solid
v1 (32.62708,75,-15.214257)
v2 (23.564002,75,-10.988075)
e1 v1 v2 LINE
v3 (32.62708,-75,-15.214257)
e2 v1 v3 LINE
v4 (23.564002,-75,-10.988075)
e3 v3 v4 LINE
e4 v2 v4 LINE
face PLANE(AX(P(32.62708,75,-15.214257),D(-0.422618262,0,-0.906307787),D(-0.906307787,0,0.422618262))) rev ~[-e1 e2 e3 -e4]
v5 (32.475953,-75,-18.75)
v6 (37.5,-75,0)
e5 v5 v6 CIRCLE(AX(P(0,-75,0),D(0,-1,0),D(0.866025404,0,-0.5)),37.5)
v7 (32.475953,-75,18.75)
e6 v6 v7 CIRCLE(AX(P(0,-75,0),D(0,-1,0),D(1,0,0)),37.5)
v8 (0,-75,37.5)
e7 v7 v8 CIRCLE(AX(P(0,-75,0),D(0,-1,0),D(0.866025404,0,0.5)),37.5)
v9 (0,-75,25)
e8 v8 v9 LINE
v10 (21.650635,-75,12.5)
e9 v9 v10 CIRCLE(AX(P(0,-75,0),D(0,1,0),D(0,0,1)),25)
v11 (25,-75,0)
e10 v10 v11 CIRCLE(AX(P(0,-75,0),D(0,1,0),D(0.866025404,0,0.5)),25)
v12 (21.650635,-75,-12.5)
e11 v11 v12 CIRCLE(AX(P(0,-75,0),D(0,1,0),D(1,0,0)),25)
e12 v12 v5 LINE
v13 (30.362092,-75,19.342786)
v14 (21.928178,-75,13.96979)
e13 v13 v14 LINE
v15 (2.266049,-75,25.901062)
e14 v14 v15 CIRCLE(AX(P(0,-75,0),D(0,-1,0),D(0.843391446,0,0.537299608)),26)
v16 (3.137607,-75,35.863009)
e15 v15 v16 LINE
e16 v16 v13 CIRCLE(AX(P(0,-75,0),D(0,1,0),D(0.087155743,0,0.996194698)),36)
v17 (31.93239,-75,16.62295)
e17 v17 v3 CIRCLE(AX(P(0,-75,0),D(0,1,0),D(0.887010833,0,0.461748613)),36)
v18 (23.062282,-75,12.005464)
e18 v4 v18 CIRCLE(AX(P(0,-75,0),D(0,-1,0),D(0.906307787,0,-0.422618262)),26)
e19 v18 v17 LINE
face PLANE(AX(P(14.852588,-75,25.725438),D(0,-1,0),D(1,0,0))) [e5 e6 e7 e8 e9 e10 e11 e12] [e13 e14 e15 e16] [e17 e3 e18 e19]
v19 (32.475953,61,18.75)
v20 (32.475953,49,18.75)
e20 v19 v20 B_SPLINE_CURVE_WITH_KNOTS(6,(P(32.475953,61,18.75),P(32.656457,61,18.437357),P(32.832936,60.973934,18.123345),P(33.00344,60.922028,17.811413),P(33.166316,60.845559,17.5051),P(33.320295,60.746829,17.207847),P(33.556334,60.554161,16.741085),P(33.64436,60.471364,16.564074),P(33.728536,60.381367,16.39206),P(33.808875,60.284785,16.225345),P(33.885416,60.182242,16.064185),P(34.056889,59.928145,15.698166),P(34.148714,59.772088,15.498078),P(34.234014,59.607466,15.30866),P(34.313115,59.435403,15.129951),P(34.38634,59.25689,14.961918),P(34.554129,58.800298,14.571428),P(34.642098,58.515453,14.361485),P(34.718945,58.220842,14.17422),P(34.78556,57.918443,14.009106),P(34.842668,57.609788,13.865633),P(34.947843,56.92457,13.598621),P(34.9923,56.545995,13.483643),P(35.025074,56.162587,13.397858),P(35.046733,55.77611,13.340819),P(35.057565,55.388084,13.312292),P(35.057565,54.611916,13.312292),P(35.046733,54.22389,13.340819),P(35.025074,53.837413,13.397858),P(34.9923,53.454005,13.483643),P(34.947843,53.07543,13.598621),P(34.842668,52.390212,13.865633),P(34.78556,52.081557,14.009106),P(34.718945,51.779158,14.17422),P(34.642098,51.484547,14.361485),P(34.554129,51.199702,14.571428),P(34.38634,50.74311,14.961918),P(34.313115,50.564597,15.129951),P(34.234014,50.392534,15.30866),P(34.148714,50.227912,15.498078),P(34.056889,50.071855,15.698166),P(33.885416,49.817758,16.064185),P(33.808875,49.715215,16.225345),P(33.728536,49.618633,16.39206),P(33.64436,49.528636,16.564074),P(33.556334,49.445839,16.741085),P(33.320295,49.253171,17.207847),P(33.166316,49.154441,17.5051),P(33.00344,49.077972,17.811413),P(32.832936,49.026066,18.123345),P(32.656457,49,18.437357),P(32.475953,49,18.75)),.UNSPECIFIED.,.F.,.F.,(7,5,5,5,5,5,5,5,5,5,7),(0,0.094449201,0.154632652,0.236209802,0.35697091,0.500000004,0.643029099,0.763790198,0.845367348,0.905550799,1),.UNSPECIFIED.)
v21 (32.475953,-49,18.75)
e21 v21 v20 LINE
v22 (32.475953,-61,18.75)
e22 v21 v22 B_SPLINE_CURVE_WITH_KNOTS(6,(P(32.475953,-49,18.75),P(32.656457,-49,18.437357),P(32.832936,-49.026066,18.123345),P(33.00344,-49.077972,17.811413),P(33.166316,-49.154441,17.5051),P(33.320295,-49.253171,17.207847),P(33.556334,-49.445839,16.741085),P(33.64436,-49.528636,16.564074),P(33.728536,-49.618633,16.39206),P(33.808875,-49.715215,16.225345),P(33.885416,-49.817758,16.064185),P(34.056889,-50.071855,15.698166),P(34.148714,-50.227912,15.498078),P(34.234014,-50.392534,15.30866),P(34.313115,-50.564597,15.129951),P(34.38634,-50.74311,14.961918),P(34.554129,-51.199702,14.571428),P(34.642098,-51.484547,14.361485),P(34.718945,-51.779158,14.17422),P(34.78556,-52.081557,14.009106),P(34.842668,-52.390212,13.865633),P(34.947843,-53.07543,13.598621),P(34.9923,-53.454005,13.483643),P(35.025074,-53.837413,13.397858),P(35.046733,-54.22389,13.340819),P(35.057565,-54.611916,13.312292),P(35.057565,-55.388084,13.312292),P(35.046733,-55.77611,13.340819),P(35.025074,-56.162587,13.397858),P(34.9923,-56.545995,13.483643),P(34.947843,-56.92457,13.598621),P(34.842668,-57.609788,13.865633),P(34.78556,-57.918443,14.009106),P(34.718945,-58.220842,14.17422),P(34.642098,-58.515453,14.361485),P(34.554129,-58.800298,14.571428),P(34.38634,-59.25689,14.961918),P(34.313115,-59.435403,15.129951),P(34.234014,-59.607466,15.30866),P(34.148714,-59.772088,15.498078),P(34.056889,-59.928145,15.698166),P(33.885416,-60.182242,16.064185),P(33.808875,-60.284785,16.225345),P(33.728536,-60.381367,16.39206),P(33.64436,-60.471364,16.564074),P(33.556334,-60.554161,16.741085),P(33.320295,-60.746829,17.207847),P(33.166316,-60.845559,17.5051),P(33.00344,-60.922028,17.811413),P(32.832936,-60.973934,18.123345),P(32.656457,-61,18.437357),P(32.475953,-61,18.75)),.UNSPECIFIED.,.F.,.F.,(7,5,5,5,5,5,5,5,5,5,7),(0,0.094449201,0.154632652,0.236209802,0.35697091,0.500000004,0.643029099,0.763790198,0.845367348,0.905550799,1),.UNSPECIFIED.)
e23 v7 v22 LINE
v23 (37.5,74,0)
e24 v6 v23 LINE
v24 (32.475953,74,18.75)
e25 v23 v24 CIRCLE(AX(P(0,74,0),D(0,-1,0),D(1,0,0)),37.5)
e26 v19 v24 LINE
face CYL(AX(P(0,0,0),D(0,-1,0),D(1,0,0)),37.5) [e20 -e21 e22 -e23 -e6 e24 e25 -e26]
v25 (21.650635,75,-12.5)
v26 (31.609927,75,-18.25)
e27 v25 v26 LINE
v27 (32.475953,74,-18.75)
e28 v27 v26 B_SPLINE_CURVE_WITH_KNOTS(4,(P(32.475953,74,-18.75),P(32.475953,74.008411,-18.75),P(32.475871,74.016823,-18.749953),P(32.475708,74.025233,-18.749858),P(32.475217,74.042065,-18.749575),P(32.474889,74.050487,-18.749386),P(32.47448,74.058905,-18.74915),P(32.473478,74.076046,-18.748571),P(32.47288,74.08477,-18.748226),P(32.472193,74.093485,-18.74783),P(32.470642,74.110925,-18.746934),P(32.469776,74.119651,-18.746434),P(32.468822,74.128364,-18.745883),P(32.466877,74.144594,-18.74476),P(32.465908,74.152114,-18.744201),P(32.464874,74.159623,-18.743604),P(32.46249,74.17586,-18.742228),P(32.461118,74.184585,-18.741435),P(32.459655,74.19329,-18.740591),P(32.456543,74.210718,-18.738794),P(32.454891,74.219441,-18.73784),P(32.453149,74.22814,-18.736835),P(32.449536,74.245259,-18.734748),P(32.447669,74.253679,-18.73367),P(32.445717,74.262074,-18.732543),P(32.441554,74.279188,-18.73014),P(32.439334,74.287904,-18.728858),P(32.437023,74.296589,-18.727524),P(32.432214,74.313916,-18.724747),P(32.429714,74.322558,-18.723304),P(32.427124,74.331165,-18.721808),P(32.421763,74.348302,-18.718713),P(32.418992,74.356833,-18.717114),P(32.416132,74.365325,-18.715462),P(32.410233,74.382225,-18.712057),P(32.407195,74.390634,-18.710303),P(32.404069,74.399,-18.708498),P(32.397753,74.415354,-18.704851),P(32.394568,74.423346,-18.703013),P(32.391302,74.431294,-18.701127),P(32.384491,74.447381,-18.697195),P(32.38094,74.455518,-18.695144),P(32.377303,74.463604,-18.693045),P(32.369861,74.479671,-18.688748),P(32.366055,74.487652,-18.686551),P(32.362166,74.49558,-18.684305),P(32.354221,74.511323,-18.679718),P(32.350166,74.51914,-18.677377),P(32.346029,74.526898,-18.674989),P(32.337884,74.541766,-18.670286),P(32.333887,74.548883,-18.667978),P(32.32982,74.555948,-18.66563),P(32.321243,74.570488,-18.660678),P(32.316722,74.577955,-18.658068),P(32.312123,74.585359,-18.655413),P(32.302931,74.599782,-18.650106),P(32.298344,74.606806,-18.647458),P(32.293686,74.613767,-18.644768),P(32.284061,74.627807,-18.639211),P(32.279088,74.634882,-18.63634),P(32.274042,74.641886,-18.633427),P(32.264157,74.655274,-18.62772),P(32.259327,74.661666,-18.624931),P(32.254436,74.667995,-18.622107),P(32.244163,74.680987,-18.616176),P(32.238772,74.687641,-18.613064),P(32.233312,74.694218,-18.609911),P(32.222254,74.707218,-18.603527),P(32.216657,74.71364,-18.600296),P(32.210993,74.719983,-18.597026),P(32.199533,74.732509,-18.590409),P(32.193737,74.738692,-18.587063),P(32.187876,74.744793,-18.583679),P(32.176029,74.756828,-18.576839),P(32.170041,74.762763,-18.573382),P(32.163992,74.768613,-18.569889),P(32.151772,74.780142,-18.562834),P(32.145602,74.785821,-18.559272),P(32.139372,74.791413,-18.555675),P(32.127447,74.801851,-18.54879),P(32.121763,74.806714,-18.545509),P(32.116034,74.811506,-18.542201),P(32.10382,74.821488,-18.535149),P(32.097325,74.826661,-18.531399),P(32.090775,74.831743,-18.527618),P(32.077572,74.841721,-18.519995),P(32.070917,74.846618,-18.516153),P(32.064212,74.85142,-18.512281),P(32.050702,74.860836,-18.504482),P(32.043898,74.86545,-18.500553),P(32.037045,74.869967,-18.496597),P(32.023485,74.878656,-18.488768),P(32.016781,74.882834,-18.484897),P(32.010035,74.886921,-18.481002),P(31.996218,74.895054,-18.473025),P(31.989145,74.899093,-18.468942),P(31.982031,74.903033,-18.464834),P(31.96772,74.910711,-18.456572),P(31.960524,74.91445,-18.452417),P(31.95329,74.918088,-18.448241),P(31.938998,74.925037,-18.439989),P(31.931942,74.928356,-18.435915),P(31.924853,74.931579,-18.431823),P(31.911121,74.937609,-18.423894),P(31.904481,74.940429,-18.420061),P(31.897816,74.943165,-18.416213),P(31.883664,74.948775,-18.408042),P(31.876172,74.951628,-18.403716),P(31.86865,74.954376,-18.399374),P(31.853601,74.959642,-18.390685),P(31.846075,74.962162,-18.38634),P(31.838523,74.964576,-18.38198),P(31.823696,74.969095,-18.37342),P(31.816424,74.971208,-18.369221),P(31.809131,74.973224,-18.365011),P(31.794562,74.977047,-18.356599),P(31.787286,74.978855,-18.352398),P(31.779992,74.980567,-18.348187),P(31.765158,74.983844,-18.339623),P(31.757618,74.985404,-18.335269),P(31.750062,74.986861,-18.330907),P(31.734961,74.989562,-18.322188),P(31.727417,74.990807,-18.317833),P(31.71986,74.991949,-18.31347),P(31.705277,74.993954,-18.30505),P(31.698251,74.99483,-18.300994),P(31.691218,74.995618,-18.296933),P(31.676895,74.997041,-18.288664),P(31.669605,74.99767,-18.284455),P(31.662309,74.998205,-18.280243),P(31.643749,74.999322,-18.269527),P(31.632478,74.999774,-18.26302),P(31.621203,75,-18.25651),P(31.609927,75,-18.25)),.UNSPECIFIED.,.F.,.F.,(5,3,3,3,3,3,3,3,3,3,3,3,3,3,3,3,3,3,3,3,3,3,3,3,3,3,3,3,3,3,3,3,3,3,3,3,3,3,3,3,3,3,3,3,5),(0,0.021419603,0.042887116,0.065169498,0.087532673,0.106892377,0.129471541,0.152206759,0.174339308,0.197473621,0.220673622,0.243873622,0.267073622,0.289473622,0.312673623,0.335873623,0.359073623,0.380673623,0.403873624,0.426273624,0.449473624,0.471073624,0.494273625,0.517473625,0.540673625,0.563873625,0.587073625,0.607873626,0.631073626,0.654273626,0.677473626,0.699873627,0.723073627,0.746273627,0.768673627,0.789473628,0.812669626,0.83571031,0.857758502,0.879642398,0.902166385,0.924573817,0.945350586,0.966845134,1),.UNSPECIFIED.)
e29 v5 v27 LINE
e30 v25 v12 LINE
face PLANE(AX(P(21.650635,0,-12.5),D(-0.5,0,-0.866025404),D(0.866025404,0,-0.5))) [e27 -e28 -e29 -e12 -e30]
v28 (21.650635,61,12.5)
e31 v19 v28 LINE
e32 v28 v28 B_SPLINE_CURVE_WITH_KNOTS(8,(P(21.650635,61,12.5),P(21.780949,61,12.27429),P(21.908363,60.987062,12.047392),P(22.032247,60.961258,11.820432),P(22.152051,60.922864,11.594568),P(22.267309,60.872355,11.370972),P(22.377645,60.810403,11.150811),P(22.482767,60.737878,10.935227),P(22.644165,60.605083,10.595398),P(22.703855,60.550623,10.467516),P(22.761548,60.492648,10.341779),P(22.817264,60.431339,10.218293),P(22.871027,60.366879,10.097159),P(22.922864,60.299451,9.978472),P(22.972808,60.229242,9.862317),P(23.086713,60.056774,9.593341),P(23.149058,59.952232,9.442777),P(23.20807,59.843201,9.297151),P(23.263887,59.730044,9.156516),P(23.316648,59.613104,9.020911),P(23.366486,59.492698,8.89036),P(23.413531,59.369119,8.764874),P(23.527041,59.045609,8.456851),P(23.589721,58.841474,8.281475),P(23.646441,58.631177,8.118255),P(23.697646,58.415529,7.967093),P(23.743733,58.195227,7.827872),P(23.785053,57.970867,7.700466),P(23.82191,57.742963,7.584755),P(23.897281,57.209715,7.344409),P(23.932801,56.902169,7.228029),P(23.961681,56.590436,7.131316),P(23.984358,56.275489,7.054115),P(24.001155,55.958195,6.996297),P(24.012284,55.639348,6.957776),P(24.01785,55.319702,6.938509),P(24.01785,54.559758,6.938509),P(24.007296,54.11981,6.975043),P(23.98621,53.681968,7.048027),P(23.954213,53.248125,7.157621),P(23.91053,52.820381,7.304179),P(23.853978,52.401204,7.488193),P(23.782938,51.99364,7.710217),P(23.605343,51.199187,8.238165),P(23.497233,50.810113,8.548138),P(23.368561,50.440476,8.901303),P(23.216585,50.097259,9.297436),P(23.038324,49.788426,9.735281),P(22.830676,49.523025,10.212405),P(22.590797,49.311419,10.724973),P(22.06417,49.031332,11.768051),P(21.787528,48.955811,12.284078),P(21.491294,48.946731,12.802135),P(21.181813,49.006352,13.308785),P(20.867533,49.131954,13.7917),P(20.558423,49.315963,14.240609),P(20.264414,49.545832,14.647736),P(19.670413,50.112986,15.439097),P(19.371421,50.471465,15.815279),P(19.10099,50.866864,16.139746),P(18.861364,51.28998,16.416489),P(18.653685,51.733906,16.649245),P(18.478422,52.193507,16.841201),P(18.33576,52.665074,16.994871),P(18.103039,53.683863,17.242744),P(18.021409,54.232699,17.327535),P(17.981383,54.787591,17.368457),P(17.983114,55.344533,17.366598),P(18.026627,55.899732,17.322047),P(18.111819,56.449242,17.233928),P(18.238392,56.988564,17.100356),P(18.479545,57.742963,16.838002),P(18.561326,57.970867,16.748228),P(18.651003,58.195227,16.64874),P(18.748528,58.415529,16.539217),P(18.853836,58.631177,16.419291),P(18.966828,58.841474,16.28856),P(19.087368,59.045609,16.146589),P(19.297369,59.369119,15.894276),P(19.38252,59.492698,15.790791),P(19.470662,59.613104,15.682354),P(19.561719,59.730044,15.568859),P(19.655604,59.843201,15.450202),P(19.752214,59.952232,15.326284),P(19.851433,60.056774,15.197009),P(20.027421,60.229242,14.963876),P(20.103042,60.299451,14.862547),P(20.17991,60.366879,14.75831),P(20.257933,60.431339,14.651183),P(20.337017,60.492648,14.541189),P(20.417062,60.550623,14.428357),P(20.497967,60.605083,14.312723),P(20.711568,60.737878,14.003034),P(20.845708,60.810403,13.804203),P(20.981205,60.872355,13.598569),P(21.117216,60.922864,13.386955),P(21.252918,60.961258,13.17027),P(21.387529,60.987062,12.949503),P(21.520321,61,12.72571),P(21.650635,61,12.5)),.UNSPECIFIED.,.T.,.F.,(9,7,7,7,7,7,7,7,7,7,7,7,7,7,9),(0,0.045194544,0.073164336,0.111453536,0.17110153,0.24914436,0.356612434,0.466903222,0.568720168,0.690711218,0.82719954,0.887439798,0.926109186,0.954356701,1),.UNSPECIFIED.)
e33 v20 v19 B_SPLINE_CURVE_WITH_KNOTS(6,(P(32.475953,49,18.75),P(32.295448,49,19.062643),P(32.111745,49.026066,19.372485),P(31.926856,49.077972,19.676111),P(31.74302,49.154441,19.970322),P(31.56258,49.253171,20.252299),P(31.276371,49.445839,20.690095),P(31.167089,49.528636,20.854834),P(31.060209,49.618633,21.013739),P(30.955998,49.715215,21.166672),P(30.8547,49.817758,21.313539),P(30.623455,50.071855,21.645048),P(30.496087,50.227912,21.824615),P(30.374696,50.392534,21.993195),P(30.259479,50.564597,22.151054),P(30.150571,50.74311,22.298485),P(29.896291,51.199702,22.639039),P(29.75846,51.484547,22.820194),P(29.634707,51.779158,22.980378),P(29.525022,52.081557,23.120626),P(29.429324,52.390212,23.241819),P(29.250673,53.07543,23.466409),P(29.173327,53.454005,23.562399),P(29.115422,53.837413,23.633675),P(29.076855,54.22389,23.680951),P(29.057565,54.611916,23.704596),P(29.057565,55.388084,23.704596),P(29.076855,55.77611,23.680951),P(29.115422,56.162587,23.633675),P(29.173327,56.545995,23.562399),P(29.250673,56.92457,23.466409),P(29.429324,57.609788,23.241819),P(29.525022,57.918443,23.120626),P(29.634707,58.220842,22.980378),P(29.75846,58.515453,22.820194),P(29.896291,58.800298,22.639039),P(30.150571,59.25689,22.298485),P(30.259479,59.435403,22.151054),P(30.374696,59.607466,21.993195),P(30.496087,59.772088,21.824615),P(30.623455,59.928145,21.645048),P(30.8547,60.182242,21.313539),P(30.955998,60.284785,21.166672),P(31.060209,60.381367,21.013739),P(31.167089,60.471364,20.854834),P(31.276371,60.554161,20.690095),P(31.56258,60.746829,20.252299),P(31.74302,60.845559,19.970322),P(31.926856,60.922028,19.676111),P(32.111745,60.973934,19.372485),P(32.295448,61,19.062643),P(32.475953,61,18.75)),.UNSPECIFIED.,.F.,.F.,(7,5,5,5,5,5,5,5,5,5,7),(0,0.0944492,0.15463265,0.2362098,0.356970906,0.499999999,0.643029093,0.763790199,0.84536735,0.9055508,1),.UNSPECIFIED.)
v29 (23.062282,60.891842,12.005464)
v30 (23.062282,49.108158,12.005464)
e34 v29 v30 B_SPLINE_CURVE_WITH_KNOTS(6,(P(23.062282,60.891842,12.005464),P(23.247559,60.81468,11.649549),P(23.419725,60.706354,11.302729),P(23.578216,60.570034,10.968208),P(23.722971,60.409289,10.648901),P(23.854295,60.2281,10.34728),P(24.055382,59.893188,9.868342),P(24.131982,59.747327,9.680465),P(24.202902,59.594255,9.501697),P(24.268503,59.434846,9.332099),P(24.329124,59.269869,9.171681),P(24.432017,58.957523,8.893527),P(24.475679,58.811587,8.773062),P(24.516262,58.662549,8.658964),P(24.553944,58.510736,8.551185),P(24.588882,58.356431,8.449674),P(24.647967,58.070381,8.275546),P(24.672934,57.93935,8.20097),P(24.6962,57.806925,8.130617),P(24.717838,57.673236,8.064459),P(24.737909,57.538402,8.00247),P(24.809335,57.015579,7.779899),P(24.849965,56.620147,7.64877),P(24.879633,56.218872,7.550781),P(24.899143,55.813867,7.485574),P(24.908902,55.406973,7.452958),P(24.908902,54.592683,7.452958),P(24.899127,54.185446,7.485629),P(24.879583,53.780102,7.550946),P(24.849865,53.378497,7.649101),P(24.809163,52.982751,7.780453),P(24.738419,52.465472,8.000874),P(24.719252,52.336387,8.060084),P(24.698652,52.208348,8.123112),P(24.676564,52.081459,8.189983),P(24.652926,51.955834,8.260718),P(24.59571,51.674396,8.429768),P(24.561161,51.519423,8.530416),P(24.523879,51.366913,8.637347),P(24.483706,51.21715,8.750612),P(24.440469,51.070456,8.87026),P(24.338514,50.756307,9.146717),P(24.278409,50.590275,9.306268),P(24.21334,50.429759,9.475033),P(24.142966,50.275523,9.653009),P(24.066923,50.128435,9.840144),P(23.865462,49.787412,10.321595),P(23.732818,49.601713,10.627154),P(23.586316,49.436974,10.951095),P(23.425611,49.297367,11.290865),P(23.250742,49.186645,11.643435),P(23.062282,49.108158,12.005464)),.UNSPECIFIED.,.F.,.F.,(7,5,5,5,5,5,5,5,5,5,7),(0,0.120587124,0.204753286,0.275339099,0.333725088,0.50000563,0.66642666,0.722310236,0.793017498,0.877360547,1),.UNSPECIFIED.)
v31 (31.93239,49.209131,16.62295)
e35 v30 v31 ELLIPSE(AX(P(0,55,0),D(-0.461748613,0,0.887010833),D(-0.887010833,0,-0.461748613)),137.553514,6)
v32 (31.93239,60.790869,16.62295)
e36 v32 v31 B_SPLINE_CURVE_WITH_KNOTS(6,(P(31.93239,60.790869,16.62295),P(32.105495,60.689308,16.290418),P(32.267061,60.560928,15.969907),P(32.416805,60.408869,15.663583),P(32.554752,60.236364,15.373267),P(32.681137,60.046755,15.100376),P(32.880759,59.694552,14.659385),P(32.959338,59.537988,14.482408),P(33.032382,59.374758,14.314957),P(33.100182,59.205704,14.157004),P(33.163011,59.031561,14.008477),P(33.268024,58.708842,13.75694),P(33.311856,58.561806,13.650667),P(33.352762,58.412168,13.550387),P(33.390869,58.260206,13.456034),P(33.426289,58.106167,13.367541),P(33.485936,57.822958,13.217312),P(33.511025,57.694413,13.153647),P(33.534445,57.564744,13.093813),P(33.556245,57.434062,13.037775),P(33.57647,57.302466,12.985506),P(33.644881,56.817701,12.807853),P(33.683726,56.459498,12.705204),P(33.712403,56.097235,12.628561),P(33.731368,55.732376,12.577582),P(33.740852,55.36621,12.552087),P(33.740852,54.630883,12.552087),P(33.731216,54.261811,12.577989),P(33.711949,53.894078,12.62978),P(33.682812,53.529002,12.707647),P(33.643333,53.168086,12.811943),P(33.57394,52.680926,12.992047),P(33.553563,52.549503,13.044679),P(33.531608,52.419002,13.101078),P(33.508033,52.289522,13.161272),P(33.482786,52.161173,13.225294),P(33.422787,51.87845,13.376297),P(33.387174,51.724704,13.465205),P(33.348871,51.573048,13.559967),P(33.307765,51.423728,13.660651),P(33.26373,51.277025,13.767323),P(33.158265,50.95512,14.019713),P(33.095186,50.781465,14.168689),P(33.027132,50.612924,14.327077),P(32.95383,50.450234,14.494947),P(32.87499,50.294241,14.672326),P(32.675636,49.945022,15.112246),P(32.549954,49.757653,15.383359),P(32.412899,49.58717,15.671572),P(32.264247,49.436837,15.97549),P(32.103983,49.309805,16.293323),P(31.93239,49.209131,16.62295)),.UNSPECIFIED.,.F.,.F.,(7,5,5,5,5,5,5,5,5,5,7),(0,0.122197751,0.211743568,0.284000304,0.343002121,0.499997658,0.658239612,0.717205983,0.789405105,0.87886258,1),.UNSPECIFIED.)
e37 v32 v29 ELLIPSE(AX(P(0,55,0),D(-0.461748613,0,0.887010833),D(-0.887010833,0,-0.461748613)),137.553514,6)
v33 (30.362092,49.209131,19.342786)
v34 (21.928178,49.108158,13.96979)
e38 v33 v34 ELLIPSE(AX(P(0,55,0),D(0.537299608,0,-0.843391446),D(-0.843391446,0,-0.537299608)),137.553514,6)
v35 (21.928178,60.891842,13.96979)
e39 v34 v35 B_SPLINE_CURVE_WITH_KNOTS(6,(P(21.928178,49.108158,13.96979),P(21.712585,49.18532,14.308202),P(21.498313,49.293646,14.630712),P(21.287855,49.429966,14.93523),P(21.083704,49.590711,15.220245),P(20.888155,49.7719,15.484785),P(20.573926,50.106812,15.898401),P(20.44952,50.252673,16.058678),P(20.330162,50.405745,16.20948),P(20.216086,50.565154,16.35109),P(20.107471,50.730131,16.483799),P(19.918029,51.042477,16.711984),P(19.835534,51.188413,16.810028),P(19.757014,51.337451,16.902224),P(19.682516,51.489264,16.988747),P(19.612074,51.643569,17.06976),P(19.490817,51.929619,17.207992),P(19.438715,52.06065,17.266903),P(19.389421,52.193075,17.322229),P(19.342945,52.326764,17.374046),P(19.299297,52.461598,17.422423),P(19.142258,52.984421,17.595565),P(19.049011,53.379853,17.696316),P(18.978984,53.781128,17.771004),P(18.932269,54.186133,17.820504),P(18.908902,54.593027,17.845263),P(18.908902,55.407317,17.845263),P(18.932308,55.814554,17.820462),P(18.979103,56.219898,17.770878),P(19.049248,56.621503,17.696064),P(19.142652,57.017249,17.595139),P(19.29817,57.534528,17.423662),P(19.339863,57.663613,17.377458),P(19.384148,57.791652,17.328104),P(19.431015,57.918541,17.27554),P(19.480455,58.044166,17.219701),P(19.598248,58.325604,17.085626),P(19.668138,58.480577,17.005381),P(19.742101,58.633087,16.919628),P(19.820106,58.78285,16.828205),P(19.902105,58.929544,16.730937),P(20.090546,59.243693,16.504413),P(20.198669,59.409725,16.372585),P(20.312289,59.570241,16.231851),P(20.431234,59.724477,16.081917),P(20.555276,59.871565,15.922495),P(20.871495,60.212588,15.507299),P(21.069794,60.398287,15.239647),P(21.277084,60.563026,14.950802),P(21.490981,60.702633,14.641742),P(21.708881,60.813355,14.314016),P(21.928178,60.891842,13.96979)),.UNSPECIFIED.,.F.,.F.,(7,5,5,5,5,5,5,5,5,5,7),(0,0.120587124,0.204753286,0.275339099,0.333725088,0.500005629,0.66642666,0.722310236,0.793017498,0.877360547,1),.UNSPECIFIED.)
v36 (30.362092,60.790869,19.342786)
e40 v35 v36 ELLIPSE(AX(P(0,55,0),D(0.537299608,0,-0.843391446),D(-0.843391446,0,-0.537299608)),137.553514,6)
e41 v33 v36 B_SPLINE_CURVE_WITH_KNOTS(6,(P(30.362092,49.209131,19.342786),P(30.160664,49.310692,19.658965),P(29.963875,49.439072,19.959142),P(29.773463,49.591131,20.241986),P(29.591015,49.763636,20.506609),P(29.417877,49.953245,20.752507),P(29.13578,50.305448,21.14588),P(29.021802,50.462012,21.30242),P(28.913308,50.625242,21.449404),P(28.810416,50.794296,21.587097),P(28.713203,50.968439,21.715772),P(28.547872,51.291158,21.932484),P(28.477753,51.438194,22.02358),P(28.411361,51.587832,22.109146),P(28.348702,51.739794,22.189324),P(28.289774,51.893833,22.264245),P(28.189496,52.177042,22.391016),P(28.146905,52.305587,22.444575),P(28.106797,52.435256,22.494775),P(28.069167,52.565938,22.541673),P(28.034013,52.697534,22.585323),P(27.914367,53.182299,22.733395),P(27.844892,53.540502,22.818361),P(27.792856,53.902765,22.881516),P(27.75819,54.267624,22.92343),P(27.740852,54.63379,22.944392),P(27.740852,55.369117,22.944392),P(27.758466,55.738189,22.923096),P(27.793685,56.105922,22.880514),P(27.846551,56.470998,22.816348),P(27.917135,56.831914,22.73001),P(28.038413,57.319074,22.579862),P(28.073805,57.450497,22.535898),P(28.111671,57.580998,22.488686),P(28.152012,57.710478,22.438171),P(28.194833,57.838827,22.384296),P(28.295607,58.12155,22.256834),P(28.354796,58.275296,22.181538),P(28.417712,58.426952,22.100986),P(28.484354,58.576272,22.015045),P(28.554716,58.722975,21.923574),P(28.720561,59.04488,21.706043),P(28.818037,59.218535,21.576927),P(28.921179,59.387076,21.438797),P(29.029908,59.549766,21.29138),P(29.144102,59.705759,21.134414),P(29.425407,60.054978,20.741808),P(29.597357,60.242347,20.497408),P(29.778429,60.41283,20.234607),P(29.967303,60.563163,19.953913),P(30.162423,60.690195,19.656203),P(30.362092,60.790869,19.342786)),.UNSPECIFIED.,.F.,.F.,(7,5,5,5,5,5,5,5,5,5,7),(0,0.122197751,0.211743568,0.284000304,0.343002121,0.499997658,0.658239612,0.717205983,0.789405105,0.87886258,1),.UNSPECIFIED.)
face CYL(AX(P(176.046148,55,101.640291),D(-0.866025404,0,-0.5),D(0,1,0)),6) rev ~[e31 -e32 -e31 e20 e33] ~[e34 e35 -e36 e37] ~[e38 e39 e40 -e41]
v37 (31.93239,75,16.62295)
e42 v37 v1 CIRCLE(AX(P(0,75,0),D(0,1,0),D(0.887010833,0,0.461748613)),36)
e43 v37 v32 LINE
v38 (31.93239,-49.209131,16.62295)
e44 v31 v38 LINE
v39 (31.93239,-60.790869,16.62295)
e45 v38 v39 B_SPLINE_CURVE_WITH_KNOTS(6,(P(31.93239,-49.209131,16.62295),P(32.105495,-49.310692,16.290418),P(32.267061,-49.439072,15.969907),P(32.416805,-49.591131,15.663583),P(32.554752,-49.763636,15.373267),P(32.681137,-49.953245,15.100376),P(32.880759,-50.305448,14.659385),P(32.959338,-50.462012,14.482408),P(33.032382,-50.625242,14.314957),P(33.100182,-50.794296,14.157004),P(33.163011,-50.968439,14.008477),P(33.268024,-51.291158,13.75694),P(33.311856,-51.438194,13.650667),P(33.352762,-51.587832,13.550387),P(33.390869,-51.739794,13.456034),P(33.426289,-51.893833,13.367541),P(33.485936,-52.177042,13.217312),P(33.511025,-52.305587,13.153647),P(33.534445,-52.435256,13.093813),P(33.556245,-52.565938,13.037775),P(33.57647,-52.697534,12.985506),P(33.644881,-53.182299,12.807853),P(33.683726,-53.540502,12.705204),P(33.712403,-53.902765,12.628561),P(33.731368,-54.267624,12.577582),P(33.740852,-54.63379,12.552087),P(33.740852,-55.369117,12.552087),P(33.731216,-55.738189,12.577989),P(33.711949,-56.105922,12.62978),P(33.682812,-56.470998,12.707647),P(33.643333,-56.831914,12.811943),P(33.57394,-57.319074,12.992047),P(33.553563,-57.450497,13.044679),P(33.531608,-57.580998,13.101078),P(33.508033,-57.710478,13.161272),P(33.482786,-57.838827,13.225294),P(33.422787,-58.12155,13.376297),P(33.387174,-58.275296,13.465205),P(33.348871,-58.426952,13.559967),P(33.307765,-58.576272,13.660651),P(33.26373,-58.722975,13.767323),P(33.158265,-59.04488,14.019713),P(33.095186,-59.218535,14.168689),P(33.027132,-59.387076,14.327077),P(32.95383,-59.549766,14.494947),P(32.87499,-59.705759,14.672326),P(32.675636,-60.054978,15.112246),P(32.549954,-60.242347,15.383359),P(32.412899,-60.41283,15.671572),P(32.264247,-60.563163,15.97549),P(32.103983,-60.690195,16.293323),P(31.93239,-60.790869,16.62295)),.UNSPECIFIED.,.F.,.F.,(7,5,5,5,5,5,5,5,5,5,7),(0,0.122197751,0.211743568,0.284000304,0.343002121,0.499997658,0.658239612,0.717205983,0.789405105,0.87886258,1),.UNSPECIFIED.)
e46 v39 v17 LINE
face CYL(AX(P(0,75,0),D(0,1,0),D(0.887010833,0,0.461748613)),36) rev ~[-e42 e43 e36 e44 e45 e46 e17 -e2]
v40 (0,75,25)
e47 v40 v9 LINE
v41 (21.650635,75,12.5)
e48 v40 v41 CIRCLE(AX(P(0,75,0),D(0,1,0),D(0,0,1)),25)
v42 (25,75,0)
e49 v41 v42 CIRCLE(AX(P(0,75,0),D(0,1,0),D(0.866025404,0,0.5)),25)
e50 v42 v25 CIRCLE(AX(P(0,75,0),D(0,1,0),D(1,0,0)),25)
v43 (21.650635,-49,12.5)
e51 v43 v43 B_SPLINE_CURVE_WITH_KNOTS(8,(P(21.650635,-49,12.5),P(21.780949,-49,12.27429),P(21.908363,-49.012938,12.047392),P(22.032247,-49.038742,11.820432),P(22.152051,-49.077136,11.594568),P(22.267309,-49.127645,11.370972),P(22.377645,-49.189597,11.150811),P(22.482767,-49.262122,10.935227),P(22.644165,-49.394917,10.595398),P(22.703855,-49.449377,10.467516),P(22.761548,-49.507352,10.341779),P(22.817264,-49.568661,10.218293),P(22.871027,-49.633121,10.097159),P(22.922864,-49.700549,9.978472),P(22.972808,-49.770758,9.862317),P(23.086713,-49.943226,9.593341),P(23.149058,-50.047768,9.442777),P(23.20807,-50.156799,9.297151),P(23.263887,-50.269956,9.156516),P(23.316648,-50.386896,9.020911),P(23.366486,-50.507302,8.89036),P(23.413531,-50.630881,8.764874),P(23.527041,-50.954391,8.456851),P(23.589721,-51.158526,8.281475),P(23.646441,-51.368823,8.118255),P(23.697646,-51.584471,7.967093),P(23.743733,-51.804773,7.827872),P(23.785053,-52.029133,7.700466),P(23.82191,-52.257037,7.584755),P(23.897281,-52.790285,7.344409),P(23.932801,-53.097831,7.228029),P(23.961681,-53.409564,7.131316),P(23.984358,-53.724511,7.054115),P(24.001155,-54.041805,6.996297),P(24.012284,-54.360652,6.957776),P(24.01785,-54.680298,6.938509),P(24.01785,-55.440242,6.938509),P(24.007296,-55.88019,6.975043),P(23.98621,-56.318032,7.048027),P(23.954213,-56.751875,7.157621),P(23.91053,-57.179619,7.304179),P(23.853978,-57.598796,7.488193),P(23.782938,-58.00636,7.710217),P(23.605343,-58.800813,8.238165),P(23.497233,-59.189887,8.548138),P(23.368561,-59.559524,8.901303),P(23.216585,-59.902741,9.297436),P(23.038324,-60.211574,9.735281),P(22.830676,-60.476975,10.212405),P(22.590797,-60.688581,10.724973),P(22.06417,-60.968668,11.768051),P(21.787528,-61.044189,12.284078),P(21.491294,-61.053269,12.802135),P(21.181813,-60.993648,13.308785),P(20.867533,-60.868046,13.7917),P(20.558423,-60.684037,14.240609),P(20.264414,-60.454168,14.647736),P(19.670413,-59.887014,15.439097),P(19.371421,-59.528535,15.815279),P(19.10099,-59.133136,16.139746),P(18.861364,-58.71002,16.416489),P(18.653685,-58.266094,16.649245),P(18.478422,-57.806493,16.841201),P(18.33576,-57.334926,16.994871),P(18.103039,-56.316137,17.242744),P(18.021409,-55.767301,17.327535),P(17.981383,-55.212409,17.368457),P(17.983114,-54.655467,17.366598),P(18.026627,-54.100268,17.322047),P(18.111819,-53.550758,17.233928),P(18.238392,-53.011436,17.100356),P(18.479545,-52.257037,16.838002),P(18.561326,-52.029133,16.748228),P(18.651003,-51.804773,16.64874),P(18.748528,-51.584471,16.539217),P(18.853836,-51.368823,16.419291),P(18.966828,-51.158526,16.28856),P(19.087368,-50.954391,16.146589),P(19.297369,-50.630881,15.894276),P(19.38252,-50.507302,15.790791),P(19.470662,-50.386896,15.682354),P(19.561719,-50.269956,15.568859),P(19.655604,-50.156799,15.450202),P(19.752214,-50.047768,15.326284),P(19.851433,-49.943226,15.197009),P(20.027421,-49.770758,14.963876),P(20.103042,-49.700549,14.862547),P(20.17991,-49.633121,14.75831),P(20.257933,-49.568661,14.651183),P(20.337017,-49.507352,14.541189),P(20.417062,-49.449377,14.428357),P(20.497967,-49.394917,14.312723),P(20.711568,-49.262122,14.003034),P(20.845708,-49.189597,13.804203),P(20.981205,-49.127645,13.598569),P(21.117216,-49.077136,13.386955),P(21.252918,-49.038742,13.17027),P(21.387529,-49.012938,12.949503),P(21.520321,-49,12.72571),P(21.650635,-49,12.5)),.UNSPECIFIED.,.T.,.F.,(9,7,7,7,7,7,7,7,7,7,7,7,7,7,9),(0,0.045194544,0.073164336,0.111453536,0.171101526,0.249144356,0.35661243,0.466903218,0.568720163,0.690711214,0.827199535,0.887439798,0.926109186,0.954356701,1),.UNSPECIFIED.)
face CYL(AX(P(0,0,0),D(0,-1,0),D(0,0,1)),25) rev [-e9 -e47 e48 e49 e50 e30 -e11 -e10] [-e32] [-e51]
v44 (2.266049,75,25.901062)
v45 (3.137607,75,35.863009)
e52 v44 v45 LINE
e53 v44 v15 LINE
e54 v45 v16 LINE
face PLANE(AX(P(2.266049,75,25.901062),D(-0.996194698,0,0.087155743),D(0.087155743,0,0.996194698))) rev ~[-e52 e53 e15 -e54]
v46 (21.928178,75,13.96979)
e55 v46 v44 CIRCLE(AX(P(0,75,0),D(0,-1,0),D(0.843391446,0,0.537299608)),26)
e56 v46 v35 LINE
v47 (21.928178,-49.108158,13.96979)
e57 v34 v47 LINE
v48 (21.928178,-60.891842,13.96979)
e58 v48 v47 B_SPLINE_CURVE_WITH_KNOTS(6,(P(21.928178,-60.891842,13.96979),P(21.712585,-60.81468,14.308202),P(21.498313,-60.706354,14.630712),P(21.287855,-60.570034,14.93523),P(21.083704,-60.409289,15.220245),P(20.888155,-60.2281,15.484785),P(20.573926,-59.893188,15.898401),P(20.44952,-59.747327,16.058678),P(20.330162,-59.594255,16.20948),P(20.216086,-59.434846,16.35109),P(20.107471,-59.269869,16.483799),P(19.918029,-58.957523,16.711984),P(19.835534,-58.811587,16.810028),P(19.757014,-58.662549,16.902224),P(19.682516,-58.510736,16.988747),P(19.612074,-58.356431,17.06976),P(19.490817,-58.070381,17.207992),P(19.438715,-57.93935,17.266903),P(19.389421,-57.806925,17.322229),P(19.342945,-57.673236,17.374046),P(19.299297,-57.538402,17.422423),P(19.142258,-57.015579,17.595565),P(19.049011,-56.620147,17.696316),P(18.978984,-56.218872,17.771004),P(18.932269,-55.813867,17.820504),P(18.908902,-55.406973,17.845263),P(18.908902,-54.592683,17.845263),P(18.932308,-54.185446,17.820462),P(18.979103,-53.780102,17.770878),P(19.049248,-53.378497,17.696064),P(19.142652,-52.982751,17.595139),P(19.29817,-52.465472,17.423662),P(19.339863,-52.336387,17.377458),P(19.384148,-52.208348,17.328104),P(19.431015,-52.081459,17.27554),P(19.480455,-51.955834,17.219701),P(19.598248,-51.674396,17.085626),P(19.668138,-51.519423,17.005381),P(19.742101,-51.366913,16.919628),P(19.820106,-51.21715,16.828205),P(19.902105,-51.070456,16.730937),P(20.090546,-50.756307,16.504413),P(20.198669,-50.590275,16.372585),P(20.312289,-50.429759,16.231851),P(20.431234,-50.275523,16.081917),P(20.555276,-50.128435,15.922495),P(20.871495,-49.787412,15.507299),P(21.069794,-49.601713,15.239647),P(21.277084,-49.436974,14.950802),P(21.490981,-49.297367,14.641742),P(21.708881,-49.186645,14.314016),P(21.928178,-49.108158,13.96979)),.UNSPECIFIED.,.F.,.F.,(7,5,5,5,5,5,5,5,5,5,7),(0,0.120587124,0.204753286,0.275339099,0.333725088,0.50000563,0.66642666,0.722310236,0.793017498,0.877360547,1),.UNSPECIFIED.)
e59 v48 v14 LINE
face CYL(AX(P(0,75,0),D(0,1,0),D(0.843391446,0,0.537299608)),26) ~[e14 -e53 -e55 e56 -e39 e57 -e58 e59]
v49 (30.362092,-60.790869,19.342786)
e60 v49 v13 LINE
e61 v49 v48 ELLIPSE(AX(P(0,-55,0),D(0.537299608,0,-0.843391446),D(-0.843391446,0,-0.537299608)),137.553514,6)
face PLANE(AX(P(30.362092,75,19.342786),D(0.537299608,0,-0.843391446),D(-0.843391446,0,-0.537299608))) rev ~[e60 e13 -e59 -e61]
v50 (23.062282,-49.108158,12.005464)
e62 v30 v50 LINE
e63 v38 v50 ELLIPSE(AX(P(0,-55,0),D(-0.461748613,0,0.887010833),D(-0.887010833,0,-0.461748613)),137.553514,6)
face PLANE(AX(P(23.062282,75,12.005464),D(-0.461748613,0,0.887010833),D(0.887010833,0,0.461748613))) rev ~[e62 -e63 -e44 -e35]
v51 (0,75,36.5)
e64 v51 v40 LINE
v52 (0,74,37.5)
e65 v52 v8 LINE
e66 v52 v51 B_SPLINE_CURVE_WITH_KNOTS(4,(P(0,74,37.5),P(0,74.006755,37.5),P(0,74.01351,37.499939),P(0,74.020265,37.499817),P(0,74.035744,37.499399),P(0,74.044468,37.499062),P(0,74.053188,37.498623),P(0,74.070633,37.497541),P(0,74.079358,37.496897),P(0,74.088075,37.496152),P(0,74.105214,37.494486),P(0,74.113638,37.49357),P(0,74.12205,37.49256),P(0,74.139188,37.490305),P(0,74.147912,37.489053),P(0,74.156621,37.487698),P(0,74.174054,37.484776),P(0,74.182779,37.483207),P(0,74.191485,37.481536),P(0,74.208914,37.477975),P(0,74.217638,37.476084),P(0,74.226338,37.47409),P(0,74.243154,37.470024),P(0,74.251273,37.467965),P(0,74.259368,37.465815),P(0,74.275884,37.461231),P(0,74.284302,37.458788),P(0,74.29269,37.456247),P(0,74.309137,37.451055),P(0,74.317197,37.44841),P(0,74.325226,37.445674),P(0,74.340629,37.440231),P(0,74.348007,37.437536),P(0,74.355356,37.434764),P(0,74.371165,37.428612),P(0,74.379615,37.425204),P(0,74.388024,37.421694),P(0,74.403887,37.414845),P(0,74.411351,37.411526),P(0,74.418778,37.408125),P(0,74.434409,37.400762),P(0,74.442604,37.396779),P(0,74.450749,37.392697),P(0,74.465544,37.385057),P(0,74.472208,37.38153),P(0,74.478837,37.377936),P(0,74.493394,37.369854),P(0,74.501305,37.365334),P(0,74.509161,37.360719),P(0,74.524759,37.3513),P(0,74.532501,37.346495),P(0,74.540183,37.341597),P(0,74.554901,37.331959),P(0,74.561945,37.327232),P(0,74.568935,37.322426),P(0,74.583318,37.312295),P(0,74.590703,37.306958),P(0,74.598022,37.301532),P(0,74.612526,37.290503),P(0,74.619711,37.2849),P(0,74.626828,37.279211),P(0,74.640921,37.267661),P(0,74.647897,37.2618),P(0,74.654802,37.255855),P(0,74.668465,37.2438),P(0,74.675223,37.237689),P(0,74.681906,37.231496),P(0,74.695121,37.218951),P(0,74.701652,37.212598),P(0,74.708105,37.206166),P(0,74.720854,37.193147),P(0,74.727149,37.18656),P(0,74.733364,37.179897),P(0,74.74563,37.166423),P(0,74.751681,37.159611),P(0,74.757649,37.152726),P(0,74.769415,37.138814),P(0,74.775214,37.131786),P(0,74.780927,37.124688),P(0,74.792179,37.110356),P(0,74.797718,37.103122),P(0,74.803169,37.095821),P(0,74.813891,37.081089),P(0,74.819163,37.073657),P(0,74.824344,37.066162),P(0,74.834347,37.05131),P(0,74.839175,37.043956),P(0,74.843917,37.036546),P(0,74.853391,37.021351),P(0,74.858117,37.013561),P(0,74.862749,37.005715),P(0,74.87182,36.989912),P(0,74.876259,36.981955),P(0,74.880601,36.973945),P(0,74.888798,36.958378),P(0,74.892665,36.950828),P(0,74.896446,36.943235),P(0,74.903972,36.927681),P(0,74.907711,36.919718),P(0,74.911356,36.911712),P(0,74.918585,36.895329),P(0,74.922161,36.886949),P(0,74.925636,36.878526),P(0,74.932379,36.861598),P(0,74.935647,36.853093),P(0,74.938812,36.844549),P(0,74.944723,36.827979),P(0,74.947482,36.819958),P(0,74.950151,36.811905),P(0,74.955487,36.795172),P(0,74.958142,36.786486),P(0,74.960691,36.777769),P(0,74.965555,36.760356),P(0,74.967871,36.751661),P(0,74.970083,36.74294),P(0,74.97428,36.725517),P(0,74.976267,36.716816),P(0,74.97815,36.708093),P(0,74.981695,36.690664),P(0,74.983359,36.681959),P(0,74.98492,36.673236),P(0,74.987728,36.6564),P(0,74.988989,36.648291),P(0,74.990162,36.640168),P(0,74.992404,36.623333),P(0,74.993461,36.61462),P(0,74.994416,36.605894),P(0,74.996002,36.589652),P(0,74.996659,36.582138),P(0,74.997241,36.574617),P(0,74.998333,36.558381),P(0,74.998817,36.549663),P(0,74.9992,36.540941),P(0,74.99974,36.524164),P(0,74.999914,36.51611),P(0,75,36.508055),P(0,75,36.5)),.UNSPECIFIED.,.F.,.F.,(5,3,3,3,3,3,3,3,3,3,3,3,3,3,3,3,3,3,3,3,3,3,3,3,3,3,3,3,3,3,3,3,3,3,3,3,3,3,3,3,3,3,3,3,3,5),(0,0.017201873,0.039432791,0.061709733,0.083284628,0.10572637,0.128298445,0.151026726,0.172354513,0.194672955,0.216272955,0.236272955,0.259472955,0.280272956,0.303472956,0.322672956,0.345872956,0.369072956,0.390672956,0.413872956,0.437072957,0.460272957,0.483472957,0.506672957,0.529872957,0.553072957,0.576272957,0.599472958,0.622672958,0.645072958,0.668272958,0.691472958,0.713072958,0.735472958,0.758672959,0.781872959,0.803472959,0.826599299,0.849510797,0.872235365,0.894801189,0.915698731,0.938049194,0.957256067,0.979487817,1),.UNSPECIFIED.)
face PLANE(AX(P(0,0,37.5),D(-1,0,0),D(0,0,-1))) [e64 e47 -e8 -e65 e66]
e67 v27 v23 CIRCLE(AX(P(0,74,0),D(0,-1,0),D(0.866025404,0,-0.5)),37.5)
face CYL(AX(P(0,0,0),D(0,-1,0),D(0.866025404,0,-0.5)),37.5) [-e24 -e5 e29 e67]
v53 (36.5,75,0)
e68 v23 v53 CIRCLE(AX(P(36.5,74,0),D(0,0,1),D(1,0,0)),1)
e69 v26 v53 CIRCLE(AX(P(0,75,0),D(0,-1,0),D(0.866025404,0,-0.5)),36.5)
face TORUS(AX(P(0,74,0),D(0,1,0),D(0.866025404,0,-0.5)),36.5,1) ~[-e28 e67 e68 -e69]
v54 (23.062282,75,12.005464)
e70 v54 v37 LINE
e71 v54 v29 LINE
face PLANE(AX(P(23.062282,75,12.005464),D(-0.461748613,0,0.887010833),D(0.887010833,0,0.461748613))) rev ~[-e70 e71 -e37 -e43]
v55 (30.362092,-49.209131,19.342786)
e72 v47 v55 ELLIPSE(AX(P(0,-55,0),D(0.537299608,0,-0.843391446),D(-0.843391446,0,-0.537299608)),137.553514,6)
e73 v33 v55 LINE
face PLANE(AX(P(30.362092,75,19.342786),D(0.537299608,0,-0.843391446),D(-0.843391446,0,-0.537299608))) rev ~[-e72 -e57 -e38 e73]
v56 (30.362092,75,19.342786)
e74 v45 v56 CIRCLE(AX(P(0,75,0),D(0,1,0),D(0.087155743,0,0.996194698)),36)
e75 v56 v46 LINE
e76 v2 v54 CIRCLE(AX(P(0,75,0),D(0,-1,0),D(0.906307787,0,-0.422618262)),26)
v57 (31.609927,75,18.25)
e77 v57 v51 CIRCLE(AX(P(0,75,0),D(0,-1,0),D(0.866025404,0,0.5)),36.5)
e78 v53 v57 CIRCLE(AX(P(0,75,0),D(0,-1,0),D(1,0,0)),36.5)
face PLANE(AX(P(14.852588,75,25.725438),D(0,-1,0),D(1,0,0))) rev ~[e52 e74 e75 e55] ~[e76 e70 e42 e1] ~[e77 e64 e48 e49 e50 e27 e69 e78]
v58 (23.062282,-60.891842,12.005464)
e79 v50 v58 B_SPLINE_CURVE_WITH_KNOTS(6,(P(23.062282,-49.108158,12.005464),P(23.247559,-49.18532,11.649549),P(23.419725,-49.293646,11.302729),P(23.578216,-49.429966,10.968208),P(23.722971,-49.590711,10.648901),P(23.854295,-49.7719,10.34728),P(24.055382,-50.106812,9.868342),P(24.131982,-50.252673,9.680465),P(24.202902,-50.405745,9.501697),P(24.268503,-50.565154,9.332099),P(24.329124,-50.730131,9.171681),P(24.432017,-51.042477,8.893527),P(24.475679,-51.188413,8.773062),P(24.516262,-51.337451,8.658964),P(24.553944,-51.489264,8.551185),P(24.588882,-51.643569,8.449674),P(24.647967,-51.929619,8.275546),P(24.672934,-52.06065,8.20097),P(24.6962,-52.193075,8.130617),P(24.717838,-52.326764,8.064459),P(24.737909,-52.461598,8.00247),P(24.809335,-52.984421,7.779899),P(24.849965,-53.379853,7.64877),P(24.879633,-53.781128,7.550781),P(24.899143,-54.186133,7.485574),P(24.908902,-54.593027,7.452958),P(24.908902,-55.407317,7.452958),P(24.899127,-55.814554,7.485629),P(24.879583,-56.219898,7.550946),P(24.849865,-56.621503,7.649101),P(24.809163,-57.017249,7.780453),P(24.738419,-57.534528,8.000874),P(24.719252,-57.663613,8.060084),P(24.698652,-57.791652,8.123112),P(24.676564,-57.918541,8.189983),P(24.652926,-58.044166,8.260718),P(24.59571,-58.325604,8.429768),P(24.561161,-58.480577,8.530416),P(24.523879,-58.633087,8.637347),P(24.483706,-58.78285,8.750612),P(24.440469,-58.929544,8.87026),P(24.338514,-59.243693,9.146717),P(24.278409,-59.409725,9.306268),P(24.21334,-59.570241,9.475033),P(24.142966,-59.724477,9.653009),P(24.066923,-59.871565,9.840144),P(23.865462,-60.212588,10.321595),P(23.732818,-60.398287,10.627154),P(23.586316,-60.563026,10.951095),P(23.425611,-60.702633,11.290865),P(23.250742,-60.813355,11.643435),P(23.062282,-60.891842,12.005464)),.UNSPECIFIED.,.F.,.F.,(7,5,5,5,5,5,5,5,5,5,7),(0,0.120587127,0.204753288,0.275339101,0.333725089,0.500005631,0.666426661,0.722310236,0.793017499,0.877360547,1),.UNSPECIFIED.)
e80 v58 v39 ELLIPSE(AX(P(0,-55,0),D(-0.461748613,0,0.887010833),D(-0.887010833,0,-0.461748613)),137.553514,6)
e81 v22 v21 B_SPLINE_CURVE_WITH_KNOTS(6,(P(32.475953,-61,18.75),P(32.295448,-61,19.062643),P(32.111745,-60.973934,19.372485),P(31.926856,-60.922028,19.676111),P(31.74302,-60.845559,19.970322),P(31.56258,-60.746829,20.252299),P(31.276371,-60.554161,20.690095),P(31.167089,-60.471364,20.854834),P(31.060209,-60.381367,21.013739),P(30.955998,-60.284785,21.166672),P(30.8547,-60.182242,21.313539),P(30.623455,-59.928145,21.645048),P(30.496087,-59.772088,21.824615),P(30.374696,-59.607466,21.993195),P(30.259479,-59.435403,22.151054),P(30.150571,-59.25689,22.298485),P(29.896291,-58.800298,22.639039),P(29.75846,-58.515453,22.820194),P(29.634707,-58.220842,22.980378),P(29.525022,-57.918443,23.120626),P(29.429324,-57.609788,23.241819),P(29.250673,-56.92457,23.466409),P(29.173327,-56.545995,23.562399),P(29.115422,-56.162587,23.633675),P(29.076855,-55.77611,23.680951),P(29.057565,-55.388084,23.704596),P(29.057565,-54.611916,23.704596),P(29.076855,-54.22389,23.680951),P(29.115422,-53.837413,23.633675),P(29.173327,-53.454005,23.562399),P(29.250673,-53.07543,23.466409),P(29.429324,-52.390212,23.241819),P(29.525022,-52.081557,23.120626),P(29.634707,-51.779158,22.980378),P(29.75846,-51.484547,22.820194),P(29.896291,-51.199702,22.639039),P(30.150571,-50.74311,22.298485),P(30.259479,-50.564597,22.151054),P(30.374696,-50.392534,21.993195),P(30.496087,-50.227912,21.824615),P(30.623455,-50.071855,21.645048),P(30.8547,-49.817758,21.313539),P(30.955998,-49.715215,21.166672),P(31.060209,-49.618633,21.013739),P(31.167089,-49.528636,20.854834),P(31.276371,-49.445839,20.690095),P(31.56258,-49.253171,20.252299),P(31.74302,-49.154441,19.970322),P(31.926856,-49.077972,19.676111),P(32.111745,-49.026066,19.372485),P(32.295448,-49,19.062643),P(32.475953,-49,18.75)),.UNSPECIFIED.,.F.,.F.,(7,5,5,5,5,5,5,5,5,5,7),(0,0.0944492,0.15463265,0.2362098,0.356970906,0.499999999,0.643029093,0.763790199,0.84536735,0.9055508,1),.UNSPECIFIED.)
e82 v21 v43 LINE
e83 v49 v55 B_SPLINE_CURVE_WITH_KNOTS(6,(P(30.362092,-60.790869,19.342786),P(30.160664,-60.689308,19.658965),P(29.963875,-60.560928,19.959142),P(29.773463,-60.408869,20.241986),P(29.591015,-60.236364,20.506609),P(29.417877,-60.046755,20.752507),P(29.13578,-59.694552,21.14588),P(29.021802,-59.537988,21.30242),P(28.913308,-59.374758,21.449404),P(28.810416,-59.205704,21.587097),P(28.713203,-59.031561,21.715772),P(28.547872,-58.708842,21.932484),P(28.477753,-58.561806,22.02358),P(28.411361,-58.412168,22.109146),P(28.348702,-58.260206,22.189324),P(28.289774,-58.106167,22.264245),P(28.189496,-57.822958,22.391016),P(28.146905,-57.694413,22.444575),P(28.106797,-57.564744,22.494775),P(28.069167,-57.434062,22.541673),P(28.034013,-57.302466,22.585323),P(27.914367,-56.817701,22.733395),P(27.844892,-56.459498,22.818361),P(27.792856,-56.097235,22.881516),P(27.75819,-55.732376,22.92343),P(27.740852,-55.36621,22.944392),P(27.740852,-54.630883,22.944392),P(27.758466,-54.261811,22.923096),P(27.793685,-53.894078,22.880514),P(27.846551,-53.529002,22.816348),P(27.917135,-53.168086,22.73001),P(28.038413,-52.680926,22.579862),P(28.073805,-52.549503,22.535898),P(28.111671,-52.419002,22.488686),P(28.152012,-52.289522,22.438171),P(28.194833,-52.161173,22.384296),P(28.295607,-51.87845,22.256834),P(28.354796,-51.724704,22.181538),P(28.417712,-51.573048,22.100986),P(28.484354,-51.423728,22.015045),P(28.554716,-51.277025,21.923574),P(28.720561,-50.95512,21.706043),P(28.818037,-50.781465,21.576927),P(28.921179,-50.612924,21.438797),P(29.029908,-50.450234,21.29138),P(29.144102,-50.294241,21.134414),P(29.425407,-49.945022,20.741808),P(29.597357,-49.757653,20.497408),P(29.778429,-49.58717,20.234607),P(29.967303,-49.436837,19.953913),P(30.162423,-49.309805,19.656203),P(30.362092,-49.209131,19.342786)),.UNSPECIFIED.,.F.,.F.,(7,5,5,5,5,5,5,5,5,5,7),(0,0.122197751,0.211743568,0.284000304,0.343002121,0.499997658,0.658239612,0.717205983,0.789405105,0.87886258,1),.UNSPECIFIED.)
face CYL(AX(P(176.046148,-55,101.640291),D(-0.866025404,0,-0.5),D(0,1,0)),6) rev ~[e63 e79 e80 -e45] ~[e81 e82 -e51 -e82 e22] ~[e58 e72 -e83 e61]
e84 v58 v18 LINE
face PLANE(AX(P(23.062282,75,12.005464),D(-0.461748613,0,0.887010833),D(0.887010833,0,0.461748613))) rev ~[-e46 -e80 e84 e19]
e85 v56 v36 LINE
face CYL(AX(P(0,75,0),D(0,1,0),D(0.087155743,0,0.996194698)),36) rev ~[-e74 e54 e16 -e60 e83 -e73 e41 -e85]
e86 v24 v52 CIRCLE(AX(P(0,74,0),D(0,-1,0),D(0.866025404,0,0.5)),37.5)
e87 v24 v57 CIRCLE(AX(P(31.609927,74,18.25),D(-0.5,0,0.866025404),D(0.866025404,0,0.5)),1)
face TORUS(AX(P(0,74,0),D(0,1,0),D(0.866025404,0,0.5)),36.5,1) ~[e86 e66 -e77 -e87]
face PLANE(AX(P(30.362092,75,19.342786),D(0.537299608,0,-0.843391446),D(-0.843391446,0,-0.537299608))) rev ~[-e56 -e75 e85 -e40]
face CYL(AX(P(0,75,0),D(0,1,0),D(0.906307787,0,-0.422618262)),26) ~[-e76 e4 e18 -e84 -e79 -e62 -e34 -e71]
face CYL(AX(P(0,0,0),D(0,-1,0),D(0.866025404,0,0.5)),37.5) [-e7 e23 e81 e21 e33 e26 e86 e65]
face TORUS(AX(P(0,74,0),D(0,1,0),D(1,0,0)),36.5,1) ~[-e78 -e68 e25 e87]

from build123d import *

# Parameters (mm, degrees)
F1_DEPTH = 75
F5_D     = 12
F7_DEPTH = 150
F8_R     = 1


with BuildPart() as f1:
    # F0 (on Front) → F1 (new body, symmetric)
    with BuildSketch(Plane.XZ):
        with BuildLine():
            Line((21.6506350946, 12.5), (32.4759526419, 18.75))
            ThreePointArc((32.4759526419, 18.75), (18.75, 32.4759526419), (0, 37.5))
            Line((0, 37.5), (0, 25))
            ThreePointArc((0, 25), (12.5, 21.6506350946), (21.6506350946, 12.5))
        make_face()
        with BuildLine():
            ThreePointArc((32.4759526419, -18.75), (36.2222184858, -9.7057141913), (37.5, 0))
            ThreePointArc((37.5, 0), (36.2222184858, 9.7057141913), (32.4759526419, 18.75))
            Line((32.4759526419, 18.75), (21.6506350946, 12.5))
            ThreePointArc((21.6506350946, 12.5), (24.1481456572, 6.4704761276), (25, 0))
            ThreePointArc((25, 0), (24.1481456572, -6.4704761276), (21.6506350946, -12.5))
            Line((21.6506350946, -12.5), (32.4759526419, -18.75))
        make_face()
    extrude(amount=F1_DEPTH, both=True)

    # F5 (through all)
    with Locations(Plane(origin=(33.5584843966, 0, 19.375), x_dir=(0, -1, 0), z_dir=(0.8660254038, 0, 0.5))):
        with Locations((55, 0), (-55, 0)):
            Hole(F5_D / 2)

    # F6 (on face) → F7 (cut)
    with BuildSketch(Plane(origin=(0, 75, 0), x_dir=(-1, 0, 0), z_dir=(0, 1, 0))):
        with BuildLine():
            ThreePointArc((-21.9281775911, 13.969789817), (-13.4881047122, 22.2277086375), (-2.2660493114, 25.9010621504))
            Line((-2.2660493114, 25.9010621504), (-3.1376067389, 35.8630091313))
            ThreePointArc((-3.1376067389, 35.8630091313), (-18.6758372938, 30.7768273442), (-30.3620920493, 19.3427859005))
            Line((-30.3620920493, 19.3427859005), (-21.9281775911, 13.969789817))
        make_face()
        with BuildLine():
            ThreePointArc((-23.564002463, -10.9880748053), (-25.9938127041, 0.5671870109), (-23.0622816626, 12.0054639441))
            Line((-23.0622816626, 12.0054639441), (-31.9323899944, 16.6229500765))
            ThreePointArc((-31.9323899944, 16.6229500765), (-35.9914329749, 0.7853358612), (-32.6270803333, -15.2142574227))
            Line((-32.6270803333, -15.2142574227), (-23.564002463, -10.9880748053))
        make_face()
    extrude(amount=-F7_DEPTH, mode=Mode.SUBTRACT)

    # F8
    f8_edges = [f1.edges().sort_by_distance(p)[0] for p in [
        (32.475953, 75, 18.75),
    ]]
    fillet(f8_edges, radius=F8_R)


solid = f1.part
